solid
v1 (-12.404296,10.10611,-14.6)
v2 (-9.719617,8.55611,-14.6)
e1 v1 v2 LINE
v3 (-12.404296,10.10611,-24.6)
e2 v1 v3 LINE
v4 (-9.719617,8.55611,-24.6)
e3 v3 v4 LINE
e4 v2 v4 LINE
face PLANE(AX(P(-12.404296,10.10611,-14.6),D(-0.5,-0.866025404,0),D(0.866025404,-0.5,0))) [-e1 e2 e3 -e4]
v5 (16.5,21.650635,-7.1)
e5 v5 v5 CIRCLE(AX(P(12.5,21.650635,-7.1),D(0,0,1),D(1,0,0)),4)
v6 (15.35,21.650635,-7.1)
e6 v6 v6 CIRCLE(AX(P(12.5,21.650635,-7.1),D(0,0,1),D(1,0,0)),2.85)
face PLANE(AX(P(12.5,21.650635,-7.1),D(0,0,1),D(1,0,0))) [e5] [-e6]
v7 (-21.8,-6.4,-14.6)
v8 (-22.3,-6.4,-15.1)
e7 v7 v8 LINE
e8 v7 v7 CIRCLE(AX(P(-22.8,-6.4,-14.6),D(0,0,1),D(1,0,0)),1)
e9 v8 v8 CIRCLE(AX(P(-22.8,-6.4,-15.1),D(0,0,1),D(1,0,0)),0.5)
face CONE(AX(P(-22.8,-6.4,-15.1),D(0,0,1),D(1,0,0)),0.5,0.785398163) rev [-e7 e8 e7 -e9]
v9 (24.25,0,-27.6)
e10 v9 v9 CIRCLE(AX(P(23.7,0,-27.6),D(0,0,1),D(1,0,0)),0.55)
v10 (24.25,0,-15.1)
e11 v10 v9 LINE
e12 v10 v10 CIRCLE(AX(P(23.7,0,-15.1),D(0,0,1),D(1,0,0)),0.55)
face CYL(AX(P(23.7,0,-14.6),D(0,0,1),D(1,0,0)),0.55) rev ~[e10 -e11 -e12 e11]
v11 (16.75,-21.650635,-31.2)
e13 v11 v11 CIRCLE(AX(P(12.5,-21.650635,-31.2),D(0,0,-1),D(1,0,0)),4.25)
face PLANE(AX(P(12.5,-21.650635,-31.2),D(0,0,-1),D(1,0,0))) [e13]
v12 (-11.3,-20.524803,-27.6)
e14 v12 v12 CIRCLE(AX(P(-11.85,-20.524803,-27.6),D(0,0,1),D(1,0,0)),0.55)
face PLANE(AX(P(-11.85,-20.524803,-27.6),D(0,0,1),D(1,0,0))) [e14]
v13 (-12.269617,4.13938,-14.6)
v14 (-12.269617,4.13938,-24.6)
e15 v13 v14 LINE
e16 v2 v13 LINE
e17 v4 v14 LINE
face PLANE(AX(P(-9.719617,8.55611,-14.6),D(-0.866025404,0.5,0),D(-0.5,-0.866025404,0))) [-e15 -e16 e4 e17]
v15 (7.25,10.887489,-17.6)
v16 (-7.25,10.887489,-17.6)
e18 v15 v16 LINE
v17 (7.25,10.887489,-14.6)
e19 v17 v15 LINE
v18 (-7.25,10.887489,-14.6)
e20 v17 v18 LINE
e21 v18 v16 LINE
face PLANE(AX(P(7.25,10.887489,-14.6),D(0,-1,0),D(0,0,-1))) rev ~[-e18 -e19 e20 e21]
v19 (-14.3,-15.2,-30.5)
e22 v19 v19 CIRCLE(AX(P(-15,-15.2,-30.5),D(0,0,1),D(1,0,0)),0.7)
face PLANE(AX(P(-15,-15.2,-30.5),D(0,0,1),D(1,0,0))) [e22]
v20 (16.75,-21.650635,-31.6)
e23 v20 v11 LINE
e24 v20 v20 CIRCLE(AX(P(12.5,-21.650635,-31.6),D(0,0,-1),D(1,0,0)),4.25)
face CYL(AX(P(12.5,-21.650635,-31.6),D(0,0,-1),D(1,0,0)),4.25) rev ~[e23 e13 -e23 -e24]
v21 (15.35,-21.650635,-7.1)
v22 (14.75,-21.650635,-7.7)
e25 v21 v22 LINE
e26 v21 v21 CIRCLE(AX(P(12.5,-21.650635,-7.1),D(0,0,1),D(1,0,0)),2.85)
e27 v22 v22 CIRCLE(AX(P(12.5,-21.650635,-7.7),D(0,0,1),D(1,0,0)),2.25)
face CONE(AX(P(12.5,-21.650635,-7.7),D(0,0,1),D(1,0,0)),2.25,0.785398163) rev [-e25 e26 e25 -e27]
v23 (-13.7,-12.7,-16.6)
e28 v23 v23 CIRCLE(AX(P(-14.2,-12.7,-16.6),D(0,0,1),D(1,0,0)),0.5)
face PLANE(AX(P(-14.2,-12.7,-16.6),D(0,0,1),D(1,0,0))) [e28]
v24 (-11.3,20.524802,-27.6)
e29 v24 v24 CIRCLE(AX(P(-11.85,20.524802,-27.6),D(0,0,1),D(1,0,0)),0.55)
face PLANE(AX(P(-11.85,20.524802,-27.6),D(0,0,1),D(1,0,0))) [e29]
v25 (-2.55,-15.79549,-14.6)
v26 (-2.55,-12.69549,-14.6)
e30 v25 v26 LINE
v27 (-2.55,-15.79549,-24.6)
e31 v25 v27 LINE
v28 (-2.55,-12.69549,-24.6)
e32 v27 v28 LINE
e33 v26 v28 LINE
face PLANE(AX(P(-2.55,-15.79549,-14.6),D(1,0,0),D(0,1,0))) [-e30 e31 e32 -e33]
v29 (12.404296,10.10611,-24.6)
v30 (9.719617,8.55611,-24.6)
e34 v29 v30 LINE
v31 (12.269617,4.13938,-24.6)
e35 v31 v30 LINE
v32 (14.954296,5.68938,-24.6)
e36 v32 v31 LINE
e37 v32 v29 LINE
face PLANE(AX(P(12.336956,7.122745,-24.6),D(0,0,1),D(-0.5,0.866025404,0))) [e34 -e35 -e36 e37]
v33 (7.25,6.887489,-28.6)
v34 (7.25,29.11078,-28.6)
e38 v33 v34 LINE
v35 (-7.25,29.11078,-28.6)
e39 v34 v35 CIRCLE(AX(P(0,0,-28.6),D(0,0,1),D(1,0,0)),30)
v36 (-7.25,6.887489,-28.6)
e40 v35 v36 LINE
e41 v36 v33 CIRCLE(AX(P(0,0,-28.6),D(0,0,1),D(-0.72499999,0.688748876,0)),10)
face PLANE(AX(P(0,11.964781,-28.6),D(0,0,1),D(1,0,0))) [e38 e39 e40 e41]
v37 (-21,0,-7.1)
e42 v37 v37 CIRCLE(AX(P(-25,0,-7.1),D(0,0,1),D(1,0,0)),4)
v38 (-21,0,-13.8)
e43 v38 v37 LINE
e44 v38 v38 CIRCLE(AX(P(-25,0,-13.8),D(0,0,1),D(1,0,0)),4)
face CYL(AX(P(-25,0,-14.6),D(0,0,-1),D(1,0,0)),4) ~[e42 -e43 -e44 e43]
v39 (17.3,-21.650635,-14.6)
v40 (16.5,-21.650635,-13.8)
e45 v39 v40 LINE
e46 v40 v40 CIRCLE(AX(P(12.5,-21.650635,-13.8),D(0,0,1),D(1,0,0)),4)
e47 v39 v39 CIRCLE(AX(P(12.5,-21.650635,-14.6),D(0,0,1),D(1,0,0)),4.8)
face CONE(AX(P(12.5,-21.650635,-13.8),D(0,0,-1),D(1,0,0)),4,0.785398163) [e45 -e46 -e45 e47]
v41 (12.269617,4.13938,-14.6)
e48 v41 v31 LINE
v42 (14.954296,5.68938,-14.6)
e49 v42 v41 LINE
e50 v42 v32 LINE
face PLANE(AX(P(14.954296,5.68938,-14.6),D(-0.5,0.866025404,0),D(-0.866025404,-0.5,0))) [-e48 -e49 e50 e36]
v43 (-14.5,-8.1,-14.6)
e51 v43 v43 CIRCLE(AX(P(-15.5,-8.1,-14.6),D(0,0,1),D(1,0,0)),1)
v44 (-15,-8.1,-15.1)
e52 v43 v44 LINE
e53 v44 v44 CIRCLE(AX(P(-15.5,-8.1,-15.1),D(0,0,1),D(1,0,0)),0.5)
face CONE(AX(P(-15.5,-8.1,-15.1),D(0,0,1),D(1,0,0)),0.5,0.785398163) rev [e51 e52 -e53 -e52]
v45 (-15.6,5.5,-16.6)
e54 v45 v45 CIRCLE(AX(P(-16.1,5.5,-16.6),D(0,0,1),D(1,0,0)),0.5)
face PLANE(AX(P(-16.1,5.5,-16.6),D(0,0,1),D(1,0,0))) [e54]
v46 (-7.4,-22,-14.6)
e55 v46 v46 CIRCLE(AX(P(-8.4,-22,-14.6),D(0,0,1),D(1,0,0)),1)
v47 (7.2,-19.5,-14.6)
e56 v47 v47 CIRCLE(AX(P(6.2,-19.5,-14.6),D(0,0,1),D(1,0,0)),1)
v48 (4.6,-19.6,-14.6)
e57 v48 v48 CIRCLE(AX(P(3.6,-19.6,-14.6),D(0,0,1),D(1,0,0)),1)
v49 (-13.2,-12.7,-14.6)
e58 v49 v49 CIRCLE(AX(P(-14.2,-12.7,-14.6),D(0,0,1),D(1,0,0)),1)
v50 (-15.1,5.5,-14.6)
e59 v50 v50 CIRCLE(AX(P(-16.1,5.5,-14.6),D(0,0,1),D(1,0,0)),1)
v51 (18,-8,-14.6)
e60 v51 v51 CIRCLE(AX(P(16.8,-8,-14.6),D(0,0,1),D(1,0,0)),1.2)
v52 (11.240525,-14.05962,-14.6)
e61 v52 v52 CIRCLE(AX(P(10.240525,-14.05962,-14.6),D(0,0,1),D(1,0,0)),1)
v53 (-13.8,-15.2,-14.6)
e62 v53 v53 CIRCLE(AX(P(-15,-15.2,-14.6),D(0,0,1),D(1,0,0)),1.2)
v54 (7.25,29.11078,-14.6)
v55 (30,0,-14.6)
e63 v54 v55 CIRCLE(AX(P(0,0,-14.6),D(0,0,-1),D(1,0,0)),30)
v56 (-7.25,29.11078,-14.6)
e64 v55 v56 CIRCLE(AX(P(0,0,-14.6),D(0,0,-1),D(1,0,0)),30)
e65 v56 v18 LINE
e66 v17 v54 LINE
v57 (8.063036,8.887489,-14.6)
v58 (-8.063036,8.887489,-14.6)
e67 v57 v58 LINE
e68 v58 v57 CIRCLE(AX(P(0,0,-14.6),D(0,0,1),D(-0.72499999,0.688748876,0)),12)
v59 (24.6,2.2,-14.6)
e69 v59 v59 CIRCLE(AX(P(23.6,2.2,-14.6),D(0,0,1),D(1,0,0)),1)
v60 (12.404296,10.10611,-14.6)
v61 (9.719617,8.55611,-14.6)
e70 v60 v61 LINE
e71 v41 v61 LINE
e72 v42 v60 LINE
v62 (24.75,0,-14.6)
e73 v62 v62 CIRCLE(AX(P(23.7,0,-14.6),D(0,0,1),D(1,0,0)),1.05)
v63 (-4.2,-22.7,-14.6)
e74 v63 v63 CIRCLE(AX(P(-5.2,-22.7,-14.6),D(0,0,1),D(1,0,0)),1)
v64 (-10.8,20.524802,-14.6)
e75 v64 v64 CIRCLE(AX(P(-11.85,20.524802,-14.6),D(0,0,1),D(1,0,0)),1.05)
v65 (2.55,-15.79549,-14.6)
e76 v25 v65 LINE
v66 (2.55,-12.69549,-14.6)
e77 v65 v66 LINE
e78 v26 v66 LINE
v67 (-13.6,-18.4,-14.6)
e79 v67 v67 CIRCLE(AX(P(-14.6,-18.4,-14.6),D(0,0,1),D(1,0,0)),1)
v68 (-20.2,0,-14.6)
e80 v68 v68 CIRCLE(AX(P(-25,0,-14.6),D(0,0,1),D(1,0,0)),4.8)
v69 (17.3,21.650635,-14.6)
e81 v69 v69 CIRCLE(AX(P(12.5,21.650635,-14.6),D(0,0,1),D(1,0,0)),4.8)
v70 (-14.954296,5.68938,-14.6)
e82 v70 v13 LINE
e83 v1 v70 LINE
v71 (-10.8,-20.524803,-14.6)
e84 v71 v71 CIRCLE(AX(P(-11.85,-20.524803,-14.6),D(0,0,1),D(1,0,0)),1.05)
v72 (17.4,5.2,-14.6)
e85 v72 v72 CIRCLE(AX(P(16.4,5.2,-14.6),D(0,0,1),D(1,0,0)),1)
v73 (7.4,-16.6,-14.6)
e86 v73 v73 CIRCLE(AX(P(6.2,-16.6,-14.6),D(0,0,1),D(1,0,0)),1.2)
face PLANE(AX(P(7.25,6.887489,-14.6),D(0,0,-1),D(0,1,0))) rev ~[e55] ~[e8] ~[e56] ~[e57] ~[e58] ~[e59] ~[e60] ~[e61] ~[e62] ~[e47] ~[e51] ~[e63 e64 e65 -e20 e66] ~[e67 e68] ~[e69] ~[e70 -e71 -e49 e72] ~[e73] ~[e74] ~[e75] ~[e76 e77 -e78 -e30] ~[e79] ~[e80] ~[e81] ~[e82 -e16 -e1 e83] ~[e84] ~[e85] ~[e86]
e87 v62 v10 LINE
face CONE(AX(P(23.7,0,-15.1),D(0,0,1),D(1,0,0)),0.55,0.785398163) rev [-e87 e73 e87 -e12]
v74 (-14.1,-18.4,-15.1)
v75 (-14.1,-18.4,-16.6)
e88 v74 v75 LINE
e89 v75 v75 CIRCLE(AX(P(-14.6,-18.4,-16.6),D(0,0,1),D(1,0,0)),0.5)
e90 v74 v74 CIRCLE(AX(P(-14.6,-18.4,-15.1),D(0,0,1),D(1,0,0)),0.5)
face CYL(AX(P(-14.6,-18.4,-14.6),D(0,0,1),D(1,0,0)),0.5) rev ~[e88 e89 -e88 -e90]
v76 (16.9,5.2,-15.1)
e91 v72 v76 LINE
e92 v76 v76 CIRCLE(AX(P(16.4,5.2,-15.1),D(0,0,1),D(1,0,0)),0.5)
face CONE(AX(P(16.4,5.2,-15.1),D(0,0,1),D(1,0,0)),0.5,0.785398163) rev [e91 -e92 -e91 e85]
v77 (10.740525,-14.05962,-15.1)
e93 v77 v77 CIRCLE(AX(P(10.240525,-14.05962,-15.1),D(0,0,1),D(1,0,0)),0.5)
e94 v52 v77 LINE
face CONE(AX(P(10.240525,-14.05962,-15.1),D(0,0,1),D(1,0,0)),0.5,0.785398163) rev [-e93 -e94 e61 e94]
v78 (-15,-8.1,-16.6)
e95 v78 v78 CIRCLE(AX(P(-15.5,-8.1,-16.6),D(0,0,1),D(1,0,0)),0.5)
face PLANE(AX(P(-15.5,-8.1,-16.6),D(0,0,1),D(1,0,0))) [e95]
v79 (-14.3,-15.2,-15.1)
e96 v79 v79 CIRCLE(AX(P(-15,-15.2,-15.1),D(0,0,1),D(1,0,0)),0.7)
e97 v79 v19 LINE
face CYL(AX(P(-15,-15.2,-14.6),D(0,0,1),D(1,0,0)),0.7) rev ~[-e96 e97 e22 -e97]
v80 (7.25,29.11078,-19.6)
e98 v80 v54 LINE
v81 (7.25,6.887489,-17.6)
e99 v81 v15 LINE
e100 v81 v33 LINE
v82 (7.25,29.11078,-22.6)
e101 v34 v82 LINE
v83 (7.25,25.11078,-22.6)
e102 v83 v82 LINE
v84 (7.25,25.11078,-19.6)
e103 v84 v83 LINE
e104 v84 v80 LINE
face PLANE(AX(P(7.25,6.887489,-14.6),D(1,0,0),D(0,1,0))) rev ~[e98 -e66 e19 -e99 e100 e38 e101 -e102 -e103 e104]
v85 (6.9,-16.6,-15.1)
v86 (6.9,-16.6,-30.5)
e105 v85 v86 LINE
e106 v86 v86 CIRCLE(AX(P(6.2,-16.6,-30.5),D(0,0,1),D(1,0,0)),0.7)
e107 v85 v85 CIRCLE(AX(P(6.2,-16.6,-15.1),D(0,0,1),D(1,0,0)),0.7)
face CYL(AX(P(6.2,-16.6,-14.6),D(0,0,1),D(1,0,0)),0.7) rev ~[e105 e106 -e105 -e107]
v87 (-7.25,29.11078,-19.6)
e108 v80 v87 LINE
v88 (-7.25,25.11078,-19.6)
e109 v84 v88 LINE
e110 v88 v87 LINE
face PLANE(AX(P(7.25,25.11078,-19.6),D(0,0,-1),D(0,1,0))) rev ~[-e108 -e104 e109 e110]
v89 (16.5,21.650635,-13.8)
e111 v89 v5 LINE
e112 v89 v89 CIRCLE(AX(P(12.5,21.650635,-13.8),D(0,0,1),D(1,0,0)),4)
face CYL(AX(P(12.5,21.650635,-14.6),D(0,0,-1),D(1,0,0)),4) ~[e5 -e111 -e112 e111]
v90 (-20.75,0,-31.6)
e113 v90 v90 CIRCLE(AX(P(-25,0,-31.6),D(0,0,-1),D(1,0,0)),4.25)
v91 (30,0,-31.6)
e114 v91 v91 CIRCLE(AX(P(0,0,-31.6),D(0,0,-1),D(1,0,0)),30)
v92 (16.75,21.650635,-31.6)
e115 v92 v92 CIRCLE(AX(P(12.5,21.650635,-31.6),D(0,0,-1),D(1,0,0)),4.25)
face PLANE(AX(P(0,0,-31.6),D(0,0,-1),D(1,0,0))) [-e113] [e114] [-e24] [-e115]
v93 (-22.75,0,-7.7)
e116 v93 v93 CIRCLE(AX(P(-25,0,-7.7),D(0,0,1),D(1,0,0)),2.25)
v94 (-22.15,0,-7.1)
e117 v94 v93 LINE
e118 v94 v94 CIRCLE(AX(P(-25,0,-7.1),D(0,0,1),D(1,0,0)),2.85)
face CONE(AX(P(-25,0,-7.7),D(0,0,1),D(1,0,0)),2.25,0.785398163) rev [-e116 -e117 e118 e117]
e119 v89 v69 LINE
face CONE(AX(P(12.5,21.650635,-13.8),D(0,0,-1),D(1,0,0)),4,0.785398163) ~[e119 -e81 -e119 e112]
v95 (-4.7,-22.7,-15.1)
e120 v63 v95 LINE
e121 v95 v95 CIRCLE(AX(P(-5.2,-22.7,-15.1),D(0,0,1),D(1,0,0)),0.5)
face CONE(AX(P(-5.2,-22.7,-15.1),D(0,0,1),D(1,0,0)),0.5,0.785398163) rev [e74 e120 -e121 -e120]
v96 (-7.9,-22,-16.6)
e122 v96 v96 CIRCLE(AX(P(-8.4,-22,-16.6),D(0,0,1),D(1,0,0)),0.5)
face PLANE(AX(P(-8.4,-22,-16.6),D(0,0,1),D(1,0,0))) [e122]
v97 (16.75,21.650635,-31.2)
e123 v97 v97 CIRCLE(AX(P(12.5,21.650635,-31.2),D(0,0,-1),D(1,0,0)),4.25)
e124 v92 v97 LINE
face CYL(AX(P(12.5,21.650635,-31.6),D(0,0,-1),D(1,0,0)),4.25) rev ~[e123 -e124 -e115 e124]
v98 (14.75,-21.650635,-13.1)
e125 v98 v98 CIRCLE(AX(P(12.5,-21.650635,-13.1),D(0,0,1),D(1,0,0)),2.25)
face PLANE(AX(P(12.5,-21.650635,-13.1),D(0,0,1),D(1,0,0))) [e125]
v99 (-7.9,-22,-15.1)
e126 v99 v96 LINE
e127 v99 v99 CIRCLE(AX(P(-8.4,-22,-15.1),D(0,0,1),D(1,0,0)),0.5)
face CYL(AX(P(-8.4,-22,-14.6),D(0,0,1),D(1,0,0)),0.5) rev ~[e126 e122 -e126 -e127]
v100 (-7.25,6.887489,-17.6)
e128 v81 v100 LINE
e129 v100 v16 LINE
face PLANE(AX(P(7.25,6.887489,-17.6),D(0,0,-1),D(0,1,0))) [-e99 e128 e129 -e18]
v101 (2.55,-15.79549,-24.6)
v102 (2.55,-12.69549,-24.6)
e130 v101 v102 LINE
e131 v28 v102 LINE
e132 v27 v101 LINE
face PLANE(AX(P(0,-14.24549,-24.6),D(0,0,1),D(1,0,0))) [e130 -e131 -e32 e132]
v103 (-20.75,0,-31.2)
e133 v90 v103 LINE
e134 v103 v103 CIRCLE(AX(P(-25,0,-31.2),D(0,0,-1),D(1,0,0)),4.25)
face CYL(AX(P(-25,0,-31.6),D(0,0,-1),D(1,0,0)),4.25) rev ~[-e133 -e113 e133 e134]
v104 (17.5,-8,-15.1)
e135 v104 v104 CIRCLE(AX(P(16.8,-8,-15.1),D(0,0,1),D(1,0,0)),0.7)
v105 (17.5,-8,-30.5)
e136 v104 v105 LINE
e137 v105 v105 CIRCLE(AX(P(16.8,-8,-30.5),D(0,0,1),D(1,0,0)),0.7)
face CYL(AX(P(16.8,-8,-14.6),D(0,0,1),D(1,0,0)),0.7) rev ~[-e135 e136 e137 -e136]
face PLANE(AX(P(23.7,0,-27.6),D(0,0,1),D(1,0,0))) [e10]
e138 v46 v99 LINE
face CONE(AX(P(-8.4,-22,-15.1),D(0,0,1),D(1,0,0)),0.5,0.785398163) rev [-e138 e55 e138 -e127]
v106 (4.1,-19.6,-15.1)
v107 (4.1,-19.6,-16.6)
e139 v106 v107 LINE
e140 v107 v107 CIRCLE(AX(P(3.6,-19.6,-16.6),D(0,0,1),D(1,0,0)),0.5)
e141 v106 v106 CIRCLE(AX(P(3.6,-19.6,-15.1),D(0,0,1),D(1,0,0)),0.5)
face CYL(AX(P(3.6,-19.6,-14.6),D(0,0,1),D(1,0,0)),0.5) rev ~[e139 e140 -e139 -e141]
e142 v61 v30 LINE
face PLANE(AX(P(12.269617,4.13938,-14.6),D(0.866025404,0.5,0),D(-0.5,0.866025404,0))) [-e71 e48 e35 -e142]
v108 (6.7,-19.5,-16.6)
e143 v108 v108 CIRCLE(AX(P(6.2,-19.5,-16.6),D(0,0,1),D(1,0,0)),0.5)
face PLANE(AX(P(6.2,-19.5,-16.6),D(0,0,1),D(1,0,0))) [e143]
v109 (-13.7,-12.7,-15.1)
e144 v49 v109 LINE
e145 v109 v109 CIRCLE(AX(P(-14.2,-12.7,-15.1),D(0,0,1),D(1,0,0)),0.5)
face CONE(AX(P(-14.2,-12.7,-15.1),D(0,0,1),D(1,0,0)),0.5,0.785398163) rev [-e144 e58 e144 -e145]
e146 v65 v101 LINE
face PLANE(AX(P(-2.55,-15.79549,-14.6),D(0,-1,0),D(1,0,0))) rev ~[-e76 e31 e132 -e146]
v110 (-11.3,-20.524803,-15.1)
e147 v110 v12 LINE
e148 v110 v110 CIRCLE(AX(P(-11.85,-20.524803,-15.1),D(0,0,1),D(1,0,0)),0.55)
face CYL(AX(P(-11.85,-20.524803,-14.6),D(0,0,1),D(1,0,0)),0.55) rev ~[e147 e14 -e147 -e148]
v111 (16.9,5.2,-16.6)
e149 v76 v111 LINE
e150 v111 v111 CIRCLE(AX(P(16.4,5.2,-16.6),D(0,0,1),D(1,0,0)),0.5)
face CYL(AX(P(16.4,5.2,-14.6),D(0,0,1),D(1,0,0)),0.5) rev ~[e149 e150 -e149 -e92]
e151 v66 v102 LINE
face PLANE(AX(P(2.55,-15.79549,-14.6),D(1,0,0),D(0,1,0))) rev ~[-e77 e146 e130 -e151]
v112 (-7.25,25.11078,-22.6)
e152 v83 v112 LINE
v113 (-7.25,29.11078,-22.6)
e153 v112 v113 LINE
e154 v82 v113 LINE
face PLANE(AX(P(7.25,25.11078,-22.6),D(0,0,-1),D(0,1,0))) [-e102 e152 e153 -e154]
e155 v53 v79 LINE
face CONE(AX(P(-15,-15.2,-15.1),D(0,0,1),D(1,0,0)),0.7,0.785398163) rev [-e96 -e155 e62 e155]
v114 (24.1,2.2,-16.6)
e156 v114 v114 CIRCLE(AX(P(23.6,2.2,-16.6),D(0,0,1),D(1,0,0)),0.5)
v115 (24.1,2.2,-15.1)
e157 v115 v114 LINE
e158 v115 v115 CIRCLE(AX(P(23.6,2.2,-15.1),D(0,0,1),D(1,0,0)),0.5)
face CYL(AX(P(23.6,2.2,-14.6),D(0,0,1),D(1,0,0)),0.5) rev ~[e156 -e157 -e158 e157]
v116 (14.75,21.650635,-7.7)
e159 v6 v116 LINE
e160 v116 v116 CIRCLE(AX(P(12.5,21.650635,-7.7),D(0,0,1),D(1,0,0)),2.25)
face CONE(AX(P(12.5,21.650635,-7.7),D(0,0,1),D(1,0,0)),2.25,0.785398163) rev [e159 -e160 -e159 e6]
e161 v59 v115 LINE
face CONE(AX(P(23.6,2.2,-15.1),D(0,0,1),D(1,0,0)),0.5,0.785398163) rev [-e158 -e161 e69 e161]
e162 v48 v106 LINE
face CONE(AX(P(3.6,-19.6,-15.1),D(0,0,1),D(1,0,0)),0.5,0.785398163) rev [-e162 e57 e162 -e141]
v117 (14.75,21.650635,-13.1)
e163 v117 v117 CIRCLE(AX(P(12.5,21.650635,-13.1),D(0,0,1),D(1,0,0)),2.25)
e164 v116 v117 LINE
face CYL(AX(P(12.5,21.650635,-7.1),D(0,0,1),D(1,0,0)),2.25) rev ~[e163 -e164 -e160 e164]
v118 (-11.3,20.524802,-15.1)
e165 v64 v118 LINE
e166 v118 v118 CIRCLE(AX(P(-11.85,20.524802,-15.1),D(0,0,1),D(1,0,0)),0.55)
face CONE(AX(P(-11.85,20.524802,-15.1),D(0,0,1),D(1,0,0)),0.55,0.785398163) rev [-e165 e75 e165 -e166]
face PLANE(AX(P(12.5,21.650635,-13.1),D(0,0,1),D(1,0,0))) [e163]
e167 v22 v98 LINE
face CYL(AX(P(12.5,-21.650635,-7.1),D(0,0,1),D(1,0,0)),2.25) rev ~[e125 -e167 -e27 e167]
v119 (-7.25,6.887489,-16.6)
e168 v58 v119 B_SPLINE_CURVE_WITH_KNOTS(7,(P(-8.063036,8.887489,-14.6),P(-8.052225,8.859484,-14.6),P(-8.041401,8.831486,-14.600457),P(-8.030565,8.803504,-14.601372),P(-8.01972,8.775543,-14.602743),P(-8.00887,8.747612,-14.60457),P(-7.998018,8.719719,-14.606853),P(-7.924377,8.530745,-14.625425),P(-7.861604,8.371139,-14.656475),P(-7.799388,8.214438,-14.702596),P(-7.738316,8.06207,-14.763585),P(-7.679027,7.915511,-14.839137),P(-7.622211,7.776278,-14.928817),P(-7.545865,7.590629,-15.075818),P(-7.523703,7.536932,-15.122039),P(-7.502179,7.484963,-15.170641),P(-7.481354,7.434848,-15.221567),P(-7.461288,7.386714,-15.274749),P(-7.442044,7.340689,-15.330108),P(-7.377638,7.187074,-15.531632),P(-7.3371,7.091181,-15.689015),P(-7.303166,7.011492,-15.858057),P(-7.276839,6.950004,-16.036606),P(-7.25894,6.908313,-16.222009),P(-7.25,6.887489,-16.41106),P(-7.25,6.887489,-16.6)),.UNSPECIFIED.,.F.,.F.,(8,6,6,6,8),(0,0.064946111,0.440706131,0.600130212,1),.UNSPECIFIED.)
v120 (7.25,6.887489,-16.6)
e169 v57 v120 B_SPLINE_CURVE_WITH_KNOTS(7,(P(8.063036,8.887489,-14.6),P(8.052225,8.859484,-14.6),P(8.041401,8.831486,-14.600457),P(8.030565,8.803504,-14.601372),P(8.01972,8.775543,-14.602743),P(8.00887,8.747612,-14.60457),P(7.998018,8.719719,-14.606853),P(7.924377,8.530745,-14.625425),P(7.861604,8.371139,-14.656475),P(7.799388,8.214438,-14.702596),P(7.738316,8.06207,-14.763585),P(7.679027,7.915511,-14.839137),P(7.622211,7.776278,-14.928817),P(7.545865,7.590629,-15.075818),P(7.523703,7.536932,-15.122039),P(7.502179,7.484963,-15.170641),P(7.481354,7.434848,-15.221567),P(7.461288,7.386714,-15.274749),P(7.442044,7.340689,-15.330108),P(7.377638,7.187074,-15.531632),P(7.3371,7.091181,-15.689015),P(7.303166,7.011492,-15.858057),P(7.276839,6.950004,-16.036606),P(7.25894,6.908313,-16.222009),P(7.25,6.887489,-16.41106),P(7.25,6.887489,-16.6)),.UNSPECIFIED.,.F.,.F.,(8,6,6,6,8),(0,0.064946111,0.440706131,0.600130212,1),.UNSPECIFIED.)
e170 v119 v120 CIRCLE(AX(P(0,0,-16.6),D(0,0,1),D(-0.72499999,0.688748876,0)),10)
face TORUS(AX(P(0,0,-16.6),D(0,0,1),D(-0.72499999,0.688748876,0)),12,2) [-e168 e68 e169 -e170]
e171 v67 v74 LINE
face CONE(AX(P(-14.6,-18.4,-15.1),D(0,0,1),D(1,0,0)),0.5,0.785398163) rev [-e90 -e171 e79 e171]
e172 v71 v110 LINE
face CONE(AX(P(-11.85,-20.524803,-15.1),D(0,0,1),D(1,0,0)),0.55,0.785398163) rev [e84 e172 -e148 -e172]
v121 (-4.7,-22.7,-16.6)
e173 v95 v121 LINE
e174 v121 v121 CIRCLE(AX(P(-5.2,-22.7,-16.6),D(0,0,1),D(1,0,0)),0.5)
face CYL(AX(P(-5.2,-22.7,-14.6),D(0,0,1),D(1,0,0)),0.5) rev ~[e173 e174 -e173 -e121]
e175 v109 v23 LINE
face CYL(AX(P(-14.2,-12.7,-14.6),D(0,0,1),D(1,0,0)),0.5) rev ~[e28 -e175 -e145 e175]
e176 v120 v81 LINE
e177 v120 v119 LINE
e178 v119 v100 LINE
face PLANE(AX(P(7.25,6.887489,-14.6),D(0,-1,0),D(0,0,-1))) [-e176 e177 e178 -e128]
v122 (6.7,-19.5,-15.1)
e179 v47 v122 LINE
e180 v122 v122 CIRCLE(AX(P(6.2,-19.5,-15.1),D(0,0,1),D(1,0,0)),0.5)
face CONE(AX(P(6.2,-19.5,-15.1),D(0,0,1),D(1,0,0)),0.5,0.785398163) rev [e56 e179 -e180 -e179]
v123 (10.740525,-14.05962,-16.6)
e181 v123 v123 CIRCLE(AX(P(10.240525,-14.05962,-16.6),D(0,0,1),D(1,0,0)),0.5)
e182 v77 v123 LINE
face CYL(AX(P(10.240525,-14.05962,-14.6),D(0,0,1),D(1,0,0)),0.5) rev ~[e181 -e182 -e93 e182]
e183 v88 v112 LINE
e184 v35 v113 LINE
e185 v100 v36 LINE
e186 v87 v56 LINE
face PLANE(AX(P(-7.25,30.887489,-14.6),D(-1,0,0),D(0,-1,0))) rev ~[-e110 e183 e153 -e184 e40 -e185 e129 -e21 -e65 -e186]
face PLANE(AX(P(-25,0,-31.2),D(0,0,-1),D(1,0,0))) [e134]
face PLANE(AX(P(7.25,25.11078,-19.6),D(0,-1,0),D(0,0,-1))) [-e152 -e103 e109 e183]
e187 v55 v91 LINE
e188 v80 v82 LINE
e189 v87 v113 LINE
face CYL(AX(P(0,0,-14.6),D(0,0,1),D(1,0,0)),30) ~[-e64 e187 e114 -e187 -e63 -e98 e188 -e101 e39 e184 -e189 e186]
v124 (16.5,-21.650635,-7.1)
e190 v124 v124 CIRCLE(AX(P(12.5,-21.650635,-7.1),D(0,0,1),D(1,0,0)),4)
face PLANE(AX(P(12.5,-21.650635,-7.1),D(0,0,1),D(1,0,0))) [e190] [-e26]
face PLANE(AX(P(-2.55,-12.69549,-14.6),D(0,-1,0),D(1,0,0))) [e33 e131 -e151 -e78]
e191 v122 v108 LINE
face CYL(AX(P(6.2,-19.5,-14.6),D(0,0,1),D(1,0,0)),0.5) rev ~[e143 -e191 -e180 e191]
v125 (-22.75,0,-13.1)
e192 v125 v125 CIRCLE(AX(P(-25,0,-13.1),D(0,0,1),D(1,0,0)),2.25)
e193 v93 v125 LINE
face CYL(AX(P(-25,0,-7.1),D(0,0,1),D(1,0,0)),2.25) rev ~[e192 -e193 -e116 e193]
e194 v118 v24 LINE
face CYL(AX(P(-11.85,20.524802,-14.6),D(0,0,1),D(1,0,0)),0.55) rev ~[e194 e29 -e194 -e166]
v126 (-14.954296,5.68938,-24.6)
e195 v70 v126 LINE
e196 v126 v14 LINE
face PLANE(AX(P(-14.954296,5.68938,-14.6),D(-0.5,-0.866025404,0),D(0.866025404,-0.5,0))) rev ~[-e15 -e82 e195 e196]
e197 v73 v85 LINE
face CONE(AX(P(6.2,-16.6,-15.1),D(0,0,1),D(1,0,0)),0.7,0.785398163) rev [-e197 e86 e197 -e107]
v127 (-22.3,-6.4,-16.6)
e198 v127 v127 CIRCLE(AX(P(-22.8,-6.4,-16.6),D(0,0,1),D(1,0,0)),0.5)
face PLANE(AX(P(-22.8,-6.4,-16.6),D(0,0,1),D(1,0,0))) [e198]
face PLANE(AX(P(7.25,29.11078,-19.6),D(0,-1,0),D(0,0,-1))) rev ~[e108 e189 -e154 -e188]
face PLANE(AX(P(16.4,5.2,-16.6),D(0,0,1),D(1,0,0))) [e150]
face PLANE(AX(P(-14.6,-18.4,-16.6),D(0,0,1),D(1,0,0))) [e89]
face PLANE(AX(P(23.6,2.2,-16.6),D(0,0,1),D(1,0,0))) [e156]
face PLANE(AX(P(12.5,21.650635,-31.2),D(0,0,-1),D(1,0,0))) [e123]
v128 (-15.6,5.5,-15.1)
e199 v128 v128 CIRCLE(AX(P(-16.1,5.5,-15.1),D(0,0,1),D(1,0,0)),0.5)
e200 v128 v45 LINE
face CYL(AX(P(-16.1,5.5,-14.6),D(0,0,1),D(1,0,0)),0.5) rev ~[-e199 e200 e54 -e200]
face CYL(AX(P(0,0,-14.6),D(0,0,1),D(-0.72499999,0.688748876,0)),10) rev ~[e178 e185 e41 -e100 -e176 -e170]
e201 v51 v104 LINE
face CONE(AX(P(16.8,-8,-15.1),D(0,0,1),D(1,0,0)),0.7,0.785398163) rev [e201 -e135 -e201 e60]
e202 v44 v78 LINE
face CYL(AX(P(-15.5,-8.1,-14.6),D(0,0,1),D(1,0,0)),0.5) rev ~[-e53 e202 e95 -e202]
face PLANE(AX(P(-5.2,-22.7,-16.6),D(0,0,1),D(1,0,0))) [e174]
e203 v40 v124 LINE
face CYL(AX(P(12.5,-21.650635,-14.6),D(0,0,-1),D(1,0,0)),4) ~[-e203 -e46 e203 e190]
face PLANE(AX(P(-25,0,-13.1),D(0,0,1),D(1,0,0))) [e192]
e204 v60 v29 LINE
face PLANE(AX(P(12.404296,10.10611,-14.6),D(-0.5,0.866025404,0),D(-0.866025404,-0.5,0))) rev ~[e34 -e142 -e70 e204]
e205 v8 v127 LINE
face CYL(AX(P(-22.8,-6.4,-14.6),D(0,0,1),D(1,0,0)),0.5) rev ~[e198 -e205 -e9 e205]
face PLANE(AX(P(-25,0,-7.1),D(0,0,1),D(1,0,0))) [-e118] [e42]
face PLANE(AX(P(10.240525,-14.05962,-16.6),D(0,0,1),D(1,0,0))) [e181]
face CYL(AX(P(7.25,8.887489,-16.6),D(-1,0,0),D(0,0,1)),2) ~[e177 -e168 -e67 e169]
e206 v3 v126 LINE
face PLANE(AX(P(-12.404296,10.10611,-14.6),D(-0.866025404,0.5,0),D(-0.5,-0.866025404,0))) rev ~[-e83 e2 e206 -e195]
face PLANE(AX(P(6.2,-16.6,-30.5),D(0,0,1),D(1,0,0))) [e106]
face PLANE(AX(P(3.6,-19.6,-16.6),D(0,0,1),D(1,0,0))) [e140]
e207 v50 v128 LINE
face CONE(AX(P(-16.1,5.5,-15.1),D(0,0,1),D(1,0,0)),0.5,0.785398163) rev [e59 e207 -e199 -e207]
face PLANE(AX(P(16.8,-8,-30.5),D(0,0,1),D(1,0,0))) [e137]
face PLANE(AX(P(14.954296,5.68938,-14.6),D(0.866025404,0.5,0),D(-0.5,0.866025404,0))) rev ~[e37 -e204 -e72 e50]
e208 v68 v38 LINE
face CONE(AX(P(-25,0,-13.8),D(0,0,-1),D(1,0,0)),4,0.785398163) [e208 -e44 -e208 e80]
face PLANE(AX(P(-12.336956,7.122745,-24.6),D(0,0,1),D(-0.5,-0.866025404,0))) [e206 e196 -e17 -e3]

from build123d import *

# Parameters (mm, degrees)
SKETCH022_R        = 30
PAD_DEPTH          = 17
SKETCH023_R        = 0.7
POCKET_DEPTH       = 15.9
SKETCH024_R        = 0.55
POCKET001_DEPTH    = 13
SKETCH025_R        = 0.5
POCKET002_DEPTH    = 2
SKETCH026_W        = 5.1
SKETCH026_H        = 3.1
POCKET003_DEPTH    = 10
POLARPATTERN_COUNT = 3
SKETCH032_R        = 4
PAD002_DEPTH       = 7.5
SKETCH033_R        = 2.25
POCKET008_DEPTH    = 6
CHAMFER_SIZE       = 0.6
CHAMFER001_SIZE    = 0.8
SKETCH038_R        = 4.25
POCKET011_DEPTH    = 0.4
POCKET013_DEPTH    = 14
SKETCH046_W        = 4
SKETCH046_H        = 3
PAD010_DEPTH       = 14.5
CHAMFER006_SIZE    = 0.5
FILLET001_R        = 2


with BuildPart() as part:
    # Sketch022 (on DatumPlane) → Pad (new body)
    with BuildSketch(Plane(origin=(0, 0, -14.6), x_dir=(1, 0, 0), z_dir=(0, 0, -1))):
        Circle(SKETCH022_R)
    extrude(amount=PAD_DEPTH)

    # Sketch023 (on Face2 of Pad) → Pocket (cut)
    with BuildSketch(Plane.XY.offset(-14.6)):
        with Locations((-15, -15.2)):
            Circle(SKETCH023_R)
        with Locations((6.2, -16.6)):
            Circle(SKETCH023_R)
        with Locations((16.8, -8)):
            Circle(SKETCH023_R)
    extrude(amount=-POCKET_DEPTH, mode=Mode.SUBTRACT)

    # Sketch024 (on Face2 of Pocket) → Pocket001 (cut)
    with BuildSketch(Plane.XY.offset(-14.6)):
        with Locations((-11.85, -20.524803)):
            Circle(SKETCH024_R)
        with Locations((23.7, 0)):
            Circle(SKETCH024_R)
        with Locations((-11.85, 20.524802)):
            Circle(SKETCH024_R)
    extrude(amount=-POCKET001_DEPTH, mode=Mode.SUBTRACT)

    # Sketch025 (on Face2 of Pocket001) → Pocket002 (cut)
    with BuildSketch(Plane.XY.offset(-14.6)):
        with Locations((-16.1, 5.5)):
            Circle(SKETCH025_R)
        with Locations((-22.8, -6.4)):
            Circle(SKETCH025_R)
        with Locations((-15.5, -8.1)):
            Circle(SKETCH025_R)
        with Locations((-14.2, -12.7)):
            Circle(SKETCH025_R)
        with Locations((-14.6, -18.4)):
            Circle(SKETCH025_R)
        with Locations((-8.4, -22)):
            Circle(SKETCH025_R)
        with Locations((-5.2, -22.7)):
            Circle(SKETCH025_R)
        with Locations((3.6, -19.6)):
            Circle(SKETCH025_R)
        with Locations((6.2, -19.5)):
            Circle(SKETCH025_R)
        with Locations((10.240525, -14.05962)):
            Circle(SKETCH025_R)
        with Locations((23.6, 2.2)):
            Circle(SKETCH025_R)
        with Locations((16.4, 5.2)):
            Circle(SKETCH025_R)
    extrude(amount=-POCKET002_DEPTH, mode=Mode.SUBTRACT)

    # Sketch026 (on Face2 of Pocket002) → Pocket003 (cut)
    with BuildSketch(Plane.XY.offset(-14.6)):
        with Locations((0, -14.24549)):
            Rectangle(SKETCH026_W, SKETCH026_H)
    pocket003 = extrude(amount=-POCKET003_DEPTH, mode=Mode.SUBTRACT)

    # PolarPattern: Pocket003 ×3 about axis
    polarpattern_axis = Axis((0, 0, -14.6), (0, 0, 1))
    for i in range(1, POLARPATTERN_COUNT):
        add(pocket003.rotate(polarpattern_axis, i * 360 / POLARPATTERN_COUNT), mode=Mode.SUBTRACT)

    # Sketch032 (on Face2 of PolarPattern) → Pad002 (join)
    with BuildSketch(Plane.XY.offset(-14.6)):
        with Locations((12.5, 21.650635)):
            Circle(SKETCH032_R)
        with Locations((-25, 0)):
            Circle(SKETCH032_R)
        with Locations((12.5, -21.650635)):
            Circle(SKETCH032_R)
    extrude(amount=PAD002_DEPTH)

    # Sketch033 (on Face43 of Pad002) → Pocket008 (cut)
    with BuildSketch(Plane.XY.offset(-7.1)):
        with Locations((-25, 0)):
            Circle(SKETCH033_R)
        with Locations((12.5, 21.650635)):
            Circle(SKETCH033_R)
        with Locations((12.5, -21.650635)):
            Circle(SKETCH033_R)
    extrude(amount=-POCKET008_DEPTH, mode=Mode.SUBTRACT)

    # Chamfer
    chamfer_edges = [part.edges().sort_by_distance(p)[0] for p in [
        (-27.25, 0, -7.1),
        (10.25, -21.650635, -7.1),
        (10.25, 21.650635, -7.1),
    ]]
    chamfer(chamfer_edges, length=CHAMFER_SIZE)

    # Chamfer001
    chamfer001_edges = [part.edges().sort_by_distance(p)[0] for p in [
        (-29, 0, -14.6),
        (8.5, -21.650635, -14.6),
        (8.5, 21.650635, -14.6),
    ]]
    chamfer(chamfer001_edges, length=CHAMFER001_SIZE)

    # Sketch038 (on Face40 of Chamfer001) → Pocket011 (cut)
    with BuildSketch(Plane(origin=(0, 0, -31.6), x_dir=(1, 0, 0), z_dir=(0, 0, -1))):
        with Locations((-25, 0)):
            Circle(SKETCH038_R)
        with Locations((12.5, 21.650635)):
            Circle(SKETCH038_R)
        with Locations((12.5, -21.650635)):
            Circle(SKETCH038_R)
    extrude(amount=-POCKET011_DEPTH, mode=Mode.SUBTRACT)

    # Sketch045 (on Face4 of Pocket011) → Pocket013 (cut)
    with BuildSketch(Plane.XY.offset(-14.6)):
        with BuildLine():
            ThreePointArc((-7.25, 6.887489), (0, -10), (7.25, 6.887489))
            Line((7.25, 6.887489), (7.25, 30.887489))
            Line((7.25, 30.887489), (-7.25, 30.887489))
            Line((-7.25, 30.887489), (-7.25, 6.887489))
        make_face()
    extrude(amount=-POCKET013_DEPTH, mode=Mode.SUBTRACT)

    # Sketch046 (on Face9 of Pocket013) → Pad010 (join)
    with BuildSketch(Plane(origin=(7.25, 0, -14.6), x_dir=(0, 1, 0), z_dir=(-1, 0, 0))):
        with Locations((8.887489, 1.5)):
            Rectangle(SKETCH046_W, SKETCH046_H)
        with Locations((27.11078, 6.5)):
            Rectangle(SKETCH046_W, SKETCH046_H)
    extrude(amount=PAD010_DEPTH)

    # Chamfer006
    chamfer006_edges = [part.edges().sort_by_distance(p)[0] for p in [
        (23.15, 0, -14.6),
        (23.1, 2.2, -14.6),
        (15.9, 5.2, -14.6),
        (16.1, -8, -14.6),
        (9.740525, -14.05962, -14.6),
        (5.5, -16.6, -14.6),
        (5.7, -19.5, -14.6),
        (3.1, -19.6, -14.6),
        (-16.6, 5.5, -14.6),
        (-12.4, 20.524802, -14.6),
        (-16, -8.1, -14.6),
        (-14.7, -12.7, -14.6),
        (-15.7, -15.2, -14.6),
        (-15.1, -18.4, -14.6),
        (-12.4, -20.524803, -14.6),
        (-8.9, -22, -14.6),
        (-5.7, -22.7, -14.6),
        (-23.3, -6.4, -14.6),
    ]]
    chamfer(chamfer006_edges, length=CHAMFER006_SIZE)

    # Fillet001
    fillet001_edges = [part.edges().sort_by_distance(p)[0] for p in [
        (0, -10, -14.6),
        (0, 6.887489, -14.6),
    ]]
    fillet(fillet001_edges, radius=FILLET001_R)


solid = part.part
